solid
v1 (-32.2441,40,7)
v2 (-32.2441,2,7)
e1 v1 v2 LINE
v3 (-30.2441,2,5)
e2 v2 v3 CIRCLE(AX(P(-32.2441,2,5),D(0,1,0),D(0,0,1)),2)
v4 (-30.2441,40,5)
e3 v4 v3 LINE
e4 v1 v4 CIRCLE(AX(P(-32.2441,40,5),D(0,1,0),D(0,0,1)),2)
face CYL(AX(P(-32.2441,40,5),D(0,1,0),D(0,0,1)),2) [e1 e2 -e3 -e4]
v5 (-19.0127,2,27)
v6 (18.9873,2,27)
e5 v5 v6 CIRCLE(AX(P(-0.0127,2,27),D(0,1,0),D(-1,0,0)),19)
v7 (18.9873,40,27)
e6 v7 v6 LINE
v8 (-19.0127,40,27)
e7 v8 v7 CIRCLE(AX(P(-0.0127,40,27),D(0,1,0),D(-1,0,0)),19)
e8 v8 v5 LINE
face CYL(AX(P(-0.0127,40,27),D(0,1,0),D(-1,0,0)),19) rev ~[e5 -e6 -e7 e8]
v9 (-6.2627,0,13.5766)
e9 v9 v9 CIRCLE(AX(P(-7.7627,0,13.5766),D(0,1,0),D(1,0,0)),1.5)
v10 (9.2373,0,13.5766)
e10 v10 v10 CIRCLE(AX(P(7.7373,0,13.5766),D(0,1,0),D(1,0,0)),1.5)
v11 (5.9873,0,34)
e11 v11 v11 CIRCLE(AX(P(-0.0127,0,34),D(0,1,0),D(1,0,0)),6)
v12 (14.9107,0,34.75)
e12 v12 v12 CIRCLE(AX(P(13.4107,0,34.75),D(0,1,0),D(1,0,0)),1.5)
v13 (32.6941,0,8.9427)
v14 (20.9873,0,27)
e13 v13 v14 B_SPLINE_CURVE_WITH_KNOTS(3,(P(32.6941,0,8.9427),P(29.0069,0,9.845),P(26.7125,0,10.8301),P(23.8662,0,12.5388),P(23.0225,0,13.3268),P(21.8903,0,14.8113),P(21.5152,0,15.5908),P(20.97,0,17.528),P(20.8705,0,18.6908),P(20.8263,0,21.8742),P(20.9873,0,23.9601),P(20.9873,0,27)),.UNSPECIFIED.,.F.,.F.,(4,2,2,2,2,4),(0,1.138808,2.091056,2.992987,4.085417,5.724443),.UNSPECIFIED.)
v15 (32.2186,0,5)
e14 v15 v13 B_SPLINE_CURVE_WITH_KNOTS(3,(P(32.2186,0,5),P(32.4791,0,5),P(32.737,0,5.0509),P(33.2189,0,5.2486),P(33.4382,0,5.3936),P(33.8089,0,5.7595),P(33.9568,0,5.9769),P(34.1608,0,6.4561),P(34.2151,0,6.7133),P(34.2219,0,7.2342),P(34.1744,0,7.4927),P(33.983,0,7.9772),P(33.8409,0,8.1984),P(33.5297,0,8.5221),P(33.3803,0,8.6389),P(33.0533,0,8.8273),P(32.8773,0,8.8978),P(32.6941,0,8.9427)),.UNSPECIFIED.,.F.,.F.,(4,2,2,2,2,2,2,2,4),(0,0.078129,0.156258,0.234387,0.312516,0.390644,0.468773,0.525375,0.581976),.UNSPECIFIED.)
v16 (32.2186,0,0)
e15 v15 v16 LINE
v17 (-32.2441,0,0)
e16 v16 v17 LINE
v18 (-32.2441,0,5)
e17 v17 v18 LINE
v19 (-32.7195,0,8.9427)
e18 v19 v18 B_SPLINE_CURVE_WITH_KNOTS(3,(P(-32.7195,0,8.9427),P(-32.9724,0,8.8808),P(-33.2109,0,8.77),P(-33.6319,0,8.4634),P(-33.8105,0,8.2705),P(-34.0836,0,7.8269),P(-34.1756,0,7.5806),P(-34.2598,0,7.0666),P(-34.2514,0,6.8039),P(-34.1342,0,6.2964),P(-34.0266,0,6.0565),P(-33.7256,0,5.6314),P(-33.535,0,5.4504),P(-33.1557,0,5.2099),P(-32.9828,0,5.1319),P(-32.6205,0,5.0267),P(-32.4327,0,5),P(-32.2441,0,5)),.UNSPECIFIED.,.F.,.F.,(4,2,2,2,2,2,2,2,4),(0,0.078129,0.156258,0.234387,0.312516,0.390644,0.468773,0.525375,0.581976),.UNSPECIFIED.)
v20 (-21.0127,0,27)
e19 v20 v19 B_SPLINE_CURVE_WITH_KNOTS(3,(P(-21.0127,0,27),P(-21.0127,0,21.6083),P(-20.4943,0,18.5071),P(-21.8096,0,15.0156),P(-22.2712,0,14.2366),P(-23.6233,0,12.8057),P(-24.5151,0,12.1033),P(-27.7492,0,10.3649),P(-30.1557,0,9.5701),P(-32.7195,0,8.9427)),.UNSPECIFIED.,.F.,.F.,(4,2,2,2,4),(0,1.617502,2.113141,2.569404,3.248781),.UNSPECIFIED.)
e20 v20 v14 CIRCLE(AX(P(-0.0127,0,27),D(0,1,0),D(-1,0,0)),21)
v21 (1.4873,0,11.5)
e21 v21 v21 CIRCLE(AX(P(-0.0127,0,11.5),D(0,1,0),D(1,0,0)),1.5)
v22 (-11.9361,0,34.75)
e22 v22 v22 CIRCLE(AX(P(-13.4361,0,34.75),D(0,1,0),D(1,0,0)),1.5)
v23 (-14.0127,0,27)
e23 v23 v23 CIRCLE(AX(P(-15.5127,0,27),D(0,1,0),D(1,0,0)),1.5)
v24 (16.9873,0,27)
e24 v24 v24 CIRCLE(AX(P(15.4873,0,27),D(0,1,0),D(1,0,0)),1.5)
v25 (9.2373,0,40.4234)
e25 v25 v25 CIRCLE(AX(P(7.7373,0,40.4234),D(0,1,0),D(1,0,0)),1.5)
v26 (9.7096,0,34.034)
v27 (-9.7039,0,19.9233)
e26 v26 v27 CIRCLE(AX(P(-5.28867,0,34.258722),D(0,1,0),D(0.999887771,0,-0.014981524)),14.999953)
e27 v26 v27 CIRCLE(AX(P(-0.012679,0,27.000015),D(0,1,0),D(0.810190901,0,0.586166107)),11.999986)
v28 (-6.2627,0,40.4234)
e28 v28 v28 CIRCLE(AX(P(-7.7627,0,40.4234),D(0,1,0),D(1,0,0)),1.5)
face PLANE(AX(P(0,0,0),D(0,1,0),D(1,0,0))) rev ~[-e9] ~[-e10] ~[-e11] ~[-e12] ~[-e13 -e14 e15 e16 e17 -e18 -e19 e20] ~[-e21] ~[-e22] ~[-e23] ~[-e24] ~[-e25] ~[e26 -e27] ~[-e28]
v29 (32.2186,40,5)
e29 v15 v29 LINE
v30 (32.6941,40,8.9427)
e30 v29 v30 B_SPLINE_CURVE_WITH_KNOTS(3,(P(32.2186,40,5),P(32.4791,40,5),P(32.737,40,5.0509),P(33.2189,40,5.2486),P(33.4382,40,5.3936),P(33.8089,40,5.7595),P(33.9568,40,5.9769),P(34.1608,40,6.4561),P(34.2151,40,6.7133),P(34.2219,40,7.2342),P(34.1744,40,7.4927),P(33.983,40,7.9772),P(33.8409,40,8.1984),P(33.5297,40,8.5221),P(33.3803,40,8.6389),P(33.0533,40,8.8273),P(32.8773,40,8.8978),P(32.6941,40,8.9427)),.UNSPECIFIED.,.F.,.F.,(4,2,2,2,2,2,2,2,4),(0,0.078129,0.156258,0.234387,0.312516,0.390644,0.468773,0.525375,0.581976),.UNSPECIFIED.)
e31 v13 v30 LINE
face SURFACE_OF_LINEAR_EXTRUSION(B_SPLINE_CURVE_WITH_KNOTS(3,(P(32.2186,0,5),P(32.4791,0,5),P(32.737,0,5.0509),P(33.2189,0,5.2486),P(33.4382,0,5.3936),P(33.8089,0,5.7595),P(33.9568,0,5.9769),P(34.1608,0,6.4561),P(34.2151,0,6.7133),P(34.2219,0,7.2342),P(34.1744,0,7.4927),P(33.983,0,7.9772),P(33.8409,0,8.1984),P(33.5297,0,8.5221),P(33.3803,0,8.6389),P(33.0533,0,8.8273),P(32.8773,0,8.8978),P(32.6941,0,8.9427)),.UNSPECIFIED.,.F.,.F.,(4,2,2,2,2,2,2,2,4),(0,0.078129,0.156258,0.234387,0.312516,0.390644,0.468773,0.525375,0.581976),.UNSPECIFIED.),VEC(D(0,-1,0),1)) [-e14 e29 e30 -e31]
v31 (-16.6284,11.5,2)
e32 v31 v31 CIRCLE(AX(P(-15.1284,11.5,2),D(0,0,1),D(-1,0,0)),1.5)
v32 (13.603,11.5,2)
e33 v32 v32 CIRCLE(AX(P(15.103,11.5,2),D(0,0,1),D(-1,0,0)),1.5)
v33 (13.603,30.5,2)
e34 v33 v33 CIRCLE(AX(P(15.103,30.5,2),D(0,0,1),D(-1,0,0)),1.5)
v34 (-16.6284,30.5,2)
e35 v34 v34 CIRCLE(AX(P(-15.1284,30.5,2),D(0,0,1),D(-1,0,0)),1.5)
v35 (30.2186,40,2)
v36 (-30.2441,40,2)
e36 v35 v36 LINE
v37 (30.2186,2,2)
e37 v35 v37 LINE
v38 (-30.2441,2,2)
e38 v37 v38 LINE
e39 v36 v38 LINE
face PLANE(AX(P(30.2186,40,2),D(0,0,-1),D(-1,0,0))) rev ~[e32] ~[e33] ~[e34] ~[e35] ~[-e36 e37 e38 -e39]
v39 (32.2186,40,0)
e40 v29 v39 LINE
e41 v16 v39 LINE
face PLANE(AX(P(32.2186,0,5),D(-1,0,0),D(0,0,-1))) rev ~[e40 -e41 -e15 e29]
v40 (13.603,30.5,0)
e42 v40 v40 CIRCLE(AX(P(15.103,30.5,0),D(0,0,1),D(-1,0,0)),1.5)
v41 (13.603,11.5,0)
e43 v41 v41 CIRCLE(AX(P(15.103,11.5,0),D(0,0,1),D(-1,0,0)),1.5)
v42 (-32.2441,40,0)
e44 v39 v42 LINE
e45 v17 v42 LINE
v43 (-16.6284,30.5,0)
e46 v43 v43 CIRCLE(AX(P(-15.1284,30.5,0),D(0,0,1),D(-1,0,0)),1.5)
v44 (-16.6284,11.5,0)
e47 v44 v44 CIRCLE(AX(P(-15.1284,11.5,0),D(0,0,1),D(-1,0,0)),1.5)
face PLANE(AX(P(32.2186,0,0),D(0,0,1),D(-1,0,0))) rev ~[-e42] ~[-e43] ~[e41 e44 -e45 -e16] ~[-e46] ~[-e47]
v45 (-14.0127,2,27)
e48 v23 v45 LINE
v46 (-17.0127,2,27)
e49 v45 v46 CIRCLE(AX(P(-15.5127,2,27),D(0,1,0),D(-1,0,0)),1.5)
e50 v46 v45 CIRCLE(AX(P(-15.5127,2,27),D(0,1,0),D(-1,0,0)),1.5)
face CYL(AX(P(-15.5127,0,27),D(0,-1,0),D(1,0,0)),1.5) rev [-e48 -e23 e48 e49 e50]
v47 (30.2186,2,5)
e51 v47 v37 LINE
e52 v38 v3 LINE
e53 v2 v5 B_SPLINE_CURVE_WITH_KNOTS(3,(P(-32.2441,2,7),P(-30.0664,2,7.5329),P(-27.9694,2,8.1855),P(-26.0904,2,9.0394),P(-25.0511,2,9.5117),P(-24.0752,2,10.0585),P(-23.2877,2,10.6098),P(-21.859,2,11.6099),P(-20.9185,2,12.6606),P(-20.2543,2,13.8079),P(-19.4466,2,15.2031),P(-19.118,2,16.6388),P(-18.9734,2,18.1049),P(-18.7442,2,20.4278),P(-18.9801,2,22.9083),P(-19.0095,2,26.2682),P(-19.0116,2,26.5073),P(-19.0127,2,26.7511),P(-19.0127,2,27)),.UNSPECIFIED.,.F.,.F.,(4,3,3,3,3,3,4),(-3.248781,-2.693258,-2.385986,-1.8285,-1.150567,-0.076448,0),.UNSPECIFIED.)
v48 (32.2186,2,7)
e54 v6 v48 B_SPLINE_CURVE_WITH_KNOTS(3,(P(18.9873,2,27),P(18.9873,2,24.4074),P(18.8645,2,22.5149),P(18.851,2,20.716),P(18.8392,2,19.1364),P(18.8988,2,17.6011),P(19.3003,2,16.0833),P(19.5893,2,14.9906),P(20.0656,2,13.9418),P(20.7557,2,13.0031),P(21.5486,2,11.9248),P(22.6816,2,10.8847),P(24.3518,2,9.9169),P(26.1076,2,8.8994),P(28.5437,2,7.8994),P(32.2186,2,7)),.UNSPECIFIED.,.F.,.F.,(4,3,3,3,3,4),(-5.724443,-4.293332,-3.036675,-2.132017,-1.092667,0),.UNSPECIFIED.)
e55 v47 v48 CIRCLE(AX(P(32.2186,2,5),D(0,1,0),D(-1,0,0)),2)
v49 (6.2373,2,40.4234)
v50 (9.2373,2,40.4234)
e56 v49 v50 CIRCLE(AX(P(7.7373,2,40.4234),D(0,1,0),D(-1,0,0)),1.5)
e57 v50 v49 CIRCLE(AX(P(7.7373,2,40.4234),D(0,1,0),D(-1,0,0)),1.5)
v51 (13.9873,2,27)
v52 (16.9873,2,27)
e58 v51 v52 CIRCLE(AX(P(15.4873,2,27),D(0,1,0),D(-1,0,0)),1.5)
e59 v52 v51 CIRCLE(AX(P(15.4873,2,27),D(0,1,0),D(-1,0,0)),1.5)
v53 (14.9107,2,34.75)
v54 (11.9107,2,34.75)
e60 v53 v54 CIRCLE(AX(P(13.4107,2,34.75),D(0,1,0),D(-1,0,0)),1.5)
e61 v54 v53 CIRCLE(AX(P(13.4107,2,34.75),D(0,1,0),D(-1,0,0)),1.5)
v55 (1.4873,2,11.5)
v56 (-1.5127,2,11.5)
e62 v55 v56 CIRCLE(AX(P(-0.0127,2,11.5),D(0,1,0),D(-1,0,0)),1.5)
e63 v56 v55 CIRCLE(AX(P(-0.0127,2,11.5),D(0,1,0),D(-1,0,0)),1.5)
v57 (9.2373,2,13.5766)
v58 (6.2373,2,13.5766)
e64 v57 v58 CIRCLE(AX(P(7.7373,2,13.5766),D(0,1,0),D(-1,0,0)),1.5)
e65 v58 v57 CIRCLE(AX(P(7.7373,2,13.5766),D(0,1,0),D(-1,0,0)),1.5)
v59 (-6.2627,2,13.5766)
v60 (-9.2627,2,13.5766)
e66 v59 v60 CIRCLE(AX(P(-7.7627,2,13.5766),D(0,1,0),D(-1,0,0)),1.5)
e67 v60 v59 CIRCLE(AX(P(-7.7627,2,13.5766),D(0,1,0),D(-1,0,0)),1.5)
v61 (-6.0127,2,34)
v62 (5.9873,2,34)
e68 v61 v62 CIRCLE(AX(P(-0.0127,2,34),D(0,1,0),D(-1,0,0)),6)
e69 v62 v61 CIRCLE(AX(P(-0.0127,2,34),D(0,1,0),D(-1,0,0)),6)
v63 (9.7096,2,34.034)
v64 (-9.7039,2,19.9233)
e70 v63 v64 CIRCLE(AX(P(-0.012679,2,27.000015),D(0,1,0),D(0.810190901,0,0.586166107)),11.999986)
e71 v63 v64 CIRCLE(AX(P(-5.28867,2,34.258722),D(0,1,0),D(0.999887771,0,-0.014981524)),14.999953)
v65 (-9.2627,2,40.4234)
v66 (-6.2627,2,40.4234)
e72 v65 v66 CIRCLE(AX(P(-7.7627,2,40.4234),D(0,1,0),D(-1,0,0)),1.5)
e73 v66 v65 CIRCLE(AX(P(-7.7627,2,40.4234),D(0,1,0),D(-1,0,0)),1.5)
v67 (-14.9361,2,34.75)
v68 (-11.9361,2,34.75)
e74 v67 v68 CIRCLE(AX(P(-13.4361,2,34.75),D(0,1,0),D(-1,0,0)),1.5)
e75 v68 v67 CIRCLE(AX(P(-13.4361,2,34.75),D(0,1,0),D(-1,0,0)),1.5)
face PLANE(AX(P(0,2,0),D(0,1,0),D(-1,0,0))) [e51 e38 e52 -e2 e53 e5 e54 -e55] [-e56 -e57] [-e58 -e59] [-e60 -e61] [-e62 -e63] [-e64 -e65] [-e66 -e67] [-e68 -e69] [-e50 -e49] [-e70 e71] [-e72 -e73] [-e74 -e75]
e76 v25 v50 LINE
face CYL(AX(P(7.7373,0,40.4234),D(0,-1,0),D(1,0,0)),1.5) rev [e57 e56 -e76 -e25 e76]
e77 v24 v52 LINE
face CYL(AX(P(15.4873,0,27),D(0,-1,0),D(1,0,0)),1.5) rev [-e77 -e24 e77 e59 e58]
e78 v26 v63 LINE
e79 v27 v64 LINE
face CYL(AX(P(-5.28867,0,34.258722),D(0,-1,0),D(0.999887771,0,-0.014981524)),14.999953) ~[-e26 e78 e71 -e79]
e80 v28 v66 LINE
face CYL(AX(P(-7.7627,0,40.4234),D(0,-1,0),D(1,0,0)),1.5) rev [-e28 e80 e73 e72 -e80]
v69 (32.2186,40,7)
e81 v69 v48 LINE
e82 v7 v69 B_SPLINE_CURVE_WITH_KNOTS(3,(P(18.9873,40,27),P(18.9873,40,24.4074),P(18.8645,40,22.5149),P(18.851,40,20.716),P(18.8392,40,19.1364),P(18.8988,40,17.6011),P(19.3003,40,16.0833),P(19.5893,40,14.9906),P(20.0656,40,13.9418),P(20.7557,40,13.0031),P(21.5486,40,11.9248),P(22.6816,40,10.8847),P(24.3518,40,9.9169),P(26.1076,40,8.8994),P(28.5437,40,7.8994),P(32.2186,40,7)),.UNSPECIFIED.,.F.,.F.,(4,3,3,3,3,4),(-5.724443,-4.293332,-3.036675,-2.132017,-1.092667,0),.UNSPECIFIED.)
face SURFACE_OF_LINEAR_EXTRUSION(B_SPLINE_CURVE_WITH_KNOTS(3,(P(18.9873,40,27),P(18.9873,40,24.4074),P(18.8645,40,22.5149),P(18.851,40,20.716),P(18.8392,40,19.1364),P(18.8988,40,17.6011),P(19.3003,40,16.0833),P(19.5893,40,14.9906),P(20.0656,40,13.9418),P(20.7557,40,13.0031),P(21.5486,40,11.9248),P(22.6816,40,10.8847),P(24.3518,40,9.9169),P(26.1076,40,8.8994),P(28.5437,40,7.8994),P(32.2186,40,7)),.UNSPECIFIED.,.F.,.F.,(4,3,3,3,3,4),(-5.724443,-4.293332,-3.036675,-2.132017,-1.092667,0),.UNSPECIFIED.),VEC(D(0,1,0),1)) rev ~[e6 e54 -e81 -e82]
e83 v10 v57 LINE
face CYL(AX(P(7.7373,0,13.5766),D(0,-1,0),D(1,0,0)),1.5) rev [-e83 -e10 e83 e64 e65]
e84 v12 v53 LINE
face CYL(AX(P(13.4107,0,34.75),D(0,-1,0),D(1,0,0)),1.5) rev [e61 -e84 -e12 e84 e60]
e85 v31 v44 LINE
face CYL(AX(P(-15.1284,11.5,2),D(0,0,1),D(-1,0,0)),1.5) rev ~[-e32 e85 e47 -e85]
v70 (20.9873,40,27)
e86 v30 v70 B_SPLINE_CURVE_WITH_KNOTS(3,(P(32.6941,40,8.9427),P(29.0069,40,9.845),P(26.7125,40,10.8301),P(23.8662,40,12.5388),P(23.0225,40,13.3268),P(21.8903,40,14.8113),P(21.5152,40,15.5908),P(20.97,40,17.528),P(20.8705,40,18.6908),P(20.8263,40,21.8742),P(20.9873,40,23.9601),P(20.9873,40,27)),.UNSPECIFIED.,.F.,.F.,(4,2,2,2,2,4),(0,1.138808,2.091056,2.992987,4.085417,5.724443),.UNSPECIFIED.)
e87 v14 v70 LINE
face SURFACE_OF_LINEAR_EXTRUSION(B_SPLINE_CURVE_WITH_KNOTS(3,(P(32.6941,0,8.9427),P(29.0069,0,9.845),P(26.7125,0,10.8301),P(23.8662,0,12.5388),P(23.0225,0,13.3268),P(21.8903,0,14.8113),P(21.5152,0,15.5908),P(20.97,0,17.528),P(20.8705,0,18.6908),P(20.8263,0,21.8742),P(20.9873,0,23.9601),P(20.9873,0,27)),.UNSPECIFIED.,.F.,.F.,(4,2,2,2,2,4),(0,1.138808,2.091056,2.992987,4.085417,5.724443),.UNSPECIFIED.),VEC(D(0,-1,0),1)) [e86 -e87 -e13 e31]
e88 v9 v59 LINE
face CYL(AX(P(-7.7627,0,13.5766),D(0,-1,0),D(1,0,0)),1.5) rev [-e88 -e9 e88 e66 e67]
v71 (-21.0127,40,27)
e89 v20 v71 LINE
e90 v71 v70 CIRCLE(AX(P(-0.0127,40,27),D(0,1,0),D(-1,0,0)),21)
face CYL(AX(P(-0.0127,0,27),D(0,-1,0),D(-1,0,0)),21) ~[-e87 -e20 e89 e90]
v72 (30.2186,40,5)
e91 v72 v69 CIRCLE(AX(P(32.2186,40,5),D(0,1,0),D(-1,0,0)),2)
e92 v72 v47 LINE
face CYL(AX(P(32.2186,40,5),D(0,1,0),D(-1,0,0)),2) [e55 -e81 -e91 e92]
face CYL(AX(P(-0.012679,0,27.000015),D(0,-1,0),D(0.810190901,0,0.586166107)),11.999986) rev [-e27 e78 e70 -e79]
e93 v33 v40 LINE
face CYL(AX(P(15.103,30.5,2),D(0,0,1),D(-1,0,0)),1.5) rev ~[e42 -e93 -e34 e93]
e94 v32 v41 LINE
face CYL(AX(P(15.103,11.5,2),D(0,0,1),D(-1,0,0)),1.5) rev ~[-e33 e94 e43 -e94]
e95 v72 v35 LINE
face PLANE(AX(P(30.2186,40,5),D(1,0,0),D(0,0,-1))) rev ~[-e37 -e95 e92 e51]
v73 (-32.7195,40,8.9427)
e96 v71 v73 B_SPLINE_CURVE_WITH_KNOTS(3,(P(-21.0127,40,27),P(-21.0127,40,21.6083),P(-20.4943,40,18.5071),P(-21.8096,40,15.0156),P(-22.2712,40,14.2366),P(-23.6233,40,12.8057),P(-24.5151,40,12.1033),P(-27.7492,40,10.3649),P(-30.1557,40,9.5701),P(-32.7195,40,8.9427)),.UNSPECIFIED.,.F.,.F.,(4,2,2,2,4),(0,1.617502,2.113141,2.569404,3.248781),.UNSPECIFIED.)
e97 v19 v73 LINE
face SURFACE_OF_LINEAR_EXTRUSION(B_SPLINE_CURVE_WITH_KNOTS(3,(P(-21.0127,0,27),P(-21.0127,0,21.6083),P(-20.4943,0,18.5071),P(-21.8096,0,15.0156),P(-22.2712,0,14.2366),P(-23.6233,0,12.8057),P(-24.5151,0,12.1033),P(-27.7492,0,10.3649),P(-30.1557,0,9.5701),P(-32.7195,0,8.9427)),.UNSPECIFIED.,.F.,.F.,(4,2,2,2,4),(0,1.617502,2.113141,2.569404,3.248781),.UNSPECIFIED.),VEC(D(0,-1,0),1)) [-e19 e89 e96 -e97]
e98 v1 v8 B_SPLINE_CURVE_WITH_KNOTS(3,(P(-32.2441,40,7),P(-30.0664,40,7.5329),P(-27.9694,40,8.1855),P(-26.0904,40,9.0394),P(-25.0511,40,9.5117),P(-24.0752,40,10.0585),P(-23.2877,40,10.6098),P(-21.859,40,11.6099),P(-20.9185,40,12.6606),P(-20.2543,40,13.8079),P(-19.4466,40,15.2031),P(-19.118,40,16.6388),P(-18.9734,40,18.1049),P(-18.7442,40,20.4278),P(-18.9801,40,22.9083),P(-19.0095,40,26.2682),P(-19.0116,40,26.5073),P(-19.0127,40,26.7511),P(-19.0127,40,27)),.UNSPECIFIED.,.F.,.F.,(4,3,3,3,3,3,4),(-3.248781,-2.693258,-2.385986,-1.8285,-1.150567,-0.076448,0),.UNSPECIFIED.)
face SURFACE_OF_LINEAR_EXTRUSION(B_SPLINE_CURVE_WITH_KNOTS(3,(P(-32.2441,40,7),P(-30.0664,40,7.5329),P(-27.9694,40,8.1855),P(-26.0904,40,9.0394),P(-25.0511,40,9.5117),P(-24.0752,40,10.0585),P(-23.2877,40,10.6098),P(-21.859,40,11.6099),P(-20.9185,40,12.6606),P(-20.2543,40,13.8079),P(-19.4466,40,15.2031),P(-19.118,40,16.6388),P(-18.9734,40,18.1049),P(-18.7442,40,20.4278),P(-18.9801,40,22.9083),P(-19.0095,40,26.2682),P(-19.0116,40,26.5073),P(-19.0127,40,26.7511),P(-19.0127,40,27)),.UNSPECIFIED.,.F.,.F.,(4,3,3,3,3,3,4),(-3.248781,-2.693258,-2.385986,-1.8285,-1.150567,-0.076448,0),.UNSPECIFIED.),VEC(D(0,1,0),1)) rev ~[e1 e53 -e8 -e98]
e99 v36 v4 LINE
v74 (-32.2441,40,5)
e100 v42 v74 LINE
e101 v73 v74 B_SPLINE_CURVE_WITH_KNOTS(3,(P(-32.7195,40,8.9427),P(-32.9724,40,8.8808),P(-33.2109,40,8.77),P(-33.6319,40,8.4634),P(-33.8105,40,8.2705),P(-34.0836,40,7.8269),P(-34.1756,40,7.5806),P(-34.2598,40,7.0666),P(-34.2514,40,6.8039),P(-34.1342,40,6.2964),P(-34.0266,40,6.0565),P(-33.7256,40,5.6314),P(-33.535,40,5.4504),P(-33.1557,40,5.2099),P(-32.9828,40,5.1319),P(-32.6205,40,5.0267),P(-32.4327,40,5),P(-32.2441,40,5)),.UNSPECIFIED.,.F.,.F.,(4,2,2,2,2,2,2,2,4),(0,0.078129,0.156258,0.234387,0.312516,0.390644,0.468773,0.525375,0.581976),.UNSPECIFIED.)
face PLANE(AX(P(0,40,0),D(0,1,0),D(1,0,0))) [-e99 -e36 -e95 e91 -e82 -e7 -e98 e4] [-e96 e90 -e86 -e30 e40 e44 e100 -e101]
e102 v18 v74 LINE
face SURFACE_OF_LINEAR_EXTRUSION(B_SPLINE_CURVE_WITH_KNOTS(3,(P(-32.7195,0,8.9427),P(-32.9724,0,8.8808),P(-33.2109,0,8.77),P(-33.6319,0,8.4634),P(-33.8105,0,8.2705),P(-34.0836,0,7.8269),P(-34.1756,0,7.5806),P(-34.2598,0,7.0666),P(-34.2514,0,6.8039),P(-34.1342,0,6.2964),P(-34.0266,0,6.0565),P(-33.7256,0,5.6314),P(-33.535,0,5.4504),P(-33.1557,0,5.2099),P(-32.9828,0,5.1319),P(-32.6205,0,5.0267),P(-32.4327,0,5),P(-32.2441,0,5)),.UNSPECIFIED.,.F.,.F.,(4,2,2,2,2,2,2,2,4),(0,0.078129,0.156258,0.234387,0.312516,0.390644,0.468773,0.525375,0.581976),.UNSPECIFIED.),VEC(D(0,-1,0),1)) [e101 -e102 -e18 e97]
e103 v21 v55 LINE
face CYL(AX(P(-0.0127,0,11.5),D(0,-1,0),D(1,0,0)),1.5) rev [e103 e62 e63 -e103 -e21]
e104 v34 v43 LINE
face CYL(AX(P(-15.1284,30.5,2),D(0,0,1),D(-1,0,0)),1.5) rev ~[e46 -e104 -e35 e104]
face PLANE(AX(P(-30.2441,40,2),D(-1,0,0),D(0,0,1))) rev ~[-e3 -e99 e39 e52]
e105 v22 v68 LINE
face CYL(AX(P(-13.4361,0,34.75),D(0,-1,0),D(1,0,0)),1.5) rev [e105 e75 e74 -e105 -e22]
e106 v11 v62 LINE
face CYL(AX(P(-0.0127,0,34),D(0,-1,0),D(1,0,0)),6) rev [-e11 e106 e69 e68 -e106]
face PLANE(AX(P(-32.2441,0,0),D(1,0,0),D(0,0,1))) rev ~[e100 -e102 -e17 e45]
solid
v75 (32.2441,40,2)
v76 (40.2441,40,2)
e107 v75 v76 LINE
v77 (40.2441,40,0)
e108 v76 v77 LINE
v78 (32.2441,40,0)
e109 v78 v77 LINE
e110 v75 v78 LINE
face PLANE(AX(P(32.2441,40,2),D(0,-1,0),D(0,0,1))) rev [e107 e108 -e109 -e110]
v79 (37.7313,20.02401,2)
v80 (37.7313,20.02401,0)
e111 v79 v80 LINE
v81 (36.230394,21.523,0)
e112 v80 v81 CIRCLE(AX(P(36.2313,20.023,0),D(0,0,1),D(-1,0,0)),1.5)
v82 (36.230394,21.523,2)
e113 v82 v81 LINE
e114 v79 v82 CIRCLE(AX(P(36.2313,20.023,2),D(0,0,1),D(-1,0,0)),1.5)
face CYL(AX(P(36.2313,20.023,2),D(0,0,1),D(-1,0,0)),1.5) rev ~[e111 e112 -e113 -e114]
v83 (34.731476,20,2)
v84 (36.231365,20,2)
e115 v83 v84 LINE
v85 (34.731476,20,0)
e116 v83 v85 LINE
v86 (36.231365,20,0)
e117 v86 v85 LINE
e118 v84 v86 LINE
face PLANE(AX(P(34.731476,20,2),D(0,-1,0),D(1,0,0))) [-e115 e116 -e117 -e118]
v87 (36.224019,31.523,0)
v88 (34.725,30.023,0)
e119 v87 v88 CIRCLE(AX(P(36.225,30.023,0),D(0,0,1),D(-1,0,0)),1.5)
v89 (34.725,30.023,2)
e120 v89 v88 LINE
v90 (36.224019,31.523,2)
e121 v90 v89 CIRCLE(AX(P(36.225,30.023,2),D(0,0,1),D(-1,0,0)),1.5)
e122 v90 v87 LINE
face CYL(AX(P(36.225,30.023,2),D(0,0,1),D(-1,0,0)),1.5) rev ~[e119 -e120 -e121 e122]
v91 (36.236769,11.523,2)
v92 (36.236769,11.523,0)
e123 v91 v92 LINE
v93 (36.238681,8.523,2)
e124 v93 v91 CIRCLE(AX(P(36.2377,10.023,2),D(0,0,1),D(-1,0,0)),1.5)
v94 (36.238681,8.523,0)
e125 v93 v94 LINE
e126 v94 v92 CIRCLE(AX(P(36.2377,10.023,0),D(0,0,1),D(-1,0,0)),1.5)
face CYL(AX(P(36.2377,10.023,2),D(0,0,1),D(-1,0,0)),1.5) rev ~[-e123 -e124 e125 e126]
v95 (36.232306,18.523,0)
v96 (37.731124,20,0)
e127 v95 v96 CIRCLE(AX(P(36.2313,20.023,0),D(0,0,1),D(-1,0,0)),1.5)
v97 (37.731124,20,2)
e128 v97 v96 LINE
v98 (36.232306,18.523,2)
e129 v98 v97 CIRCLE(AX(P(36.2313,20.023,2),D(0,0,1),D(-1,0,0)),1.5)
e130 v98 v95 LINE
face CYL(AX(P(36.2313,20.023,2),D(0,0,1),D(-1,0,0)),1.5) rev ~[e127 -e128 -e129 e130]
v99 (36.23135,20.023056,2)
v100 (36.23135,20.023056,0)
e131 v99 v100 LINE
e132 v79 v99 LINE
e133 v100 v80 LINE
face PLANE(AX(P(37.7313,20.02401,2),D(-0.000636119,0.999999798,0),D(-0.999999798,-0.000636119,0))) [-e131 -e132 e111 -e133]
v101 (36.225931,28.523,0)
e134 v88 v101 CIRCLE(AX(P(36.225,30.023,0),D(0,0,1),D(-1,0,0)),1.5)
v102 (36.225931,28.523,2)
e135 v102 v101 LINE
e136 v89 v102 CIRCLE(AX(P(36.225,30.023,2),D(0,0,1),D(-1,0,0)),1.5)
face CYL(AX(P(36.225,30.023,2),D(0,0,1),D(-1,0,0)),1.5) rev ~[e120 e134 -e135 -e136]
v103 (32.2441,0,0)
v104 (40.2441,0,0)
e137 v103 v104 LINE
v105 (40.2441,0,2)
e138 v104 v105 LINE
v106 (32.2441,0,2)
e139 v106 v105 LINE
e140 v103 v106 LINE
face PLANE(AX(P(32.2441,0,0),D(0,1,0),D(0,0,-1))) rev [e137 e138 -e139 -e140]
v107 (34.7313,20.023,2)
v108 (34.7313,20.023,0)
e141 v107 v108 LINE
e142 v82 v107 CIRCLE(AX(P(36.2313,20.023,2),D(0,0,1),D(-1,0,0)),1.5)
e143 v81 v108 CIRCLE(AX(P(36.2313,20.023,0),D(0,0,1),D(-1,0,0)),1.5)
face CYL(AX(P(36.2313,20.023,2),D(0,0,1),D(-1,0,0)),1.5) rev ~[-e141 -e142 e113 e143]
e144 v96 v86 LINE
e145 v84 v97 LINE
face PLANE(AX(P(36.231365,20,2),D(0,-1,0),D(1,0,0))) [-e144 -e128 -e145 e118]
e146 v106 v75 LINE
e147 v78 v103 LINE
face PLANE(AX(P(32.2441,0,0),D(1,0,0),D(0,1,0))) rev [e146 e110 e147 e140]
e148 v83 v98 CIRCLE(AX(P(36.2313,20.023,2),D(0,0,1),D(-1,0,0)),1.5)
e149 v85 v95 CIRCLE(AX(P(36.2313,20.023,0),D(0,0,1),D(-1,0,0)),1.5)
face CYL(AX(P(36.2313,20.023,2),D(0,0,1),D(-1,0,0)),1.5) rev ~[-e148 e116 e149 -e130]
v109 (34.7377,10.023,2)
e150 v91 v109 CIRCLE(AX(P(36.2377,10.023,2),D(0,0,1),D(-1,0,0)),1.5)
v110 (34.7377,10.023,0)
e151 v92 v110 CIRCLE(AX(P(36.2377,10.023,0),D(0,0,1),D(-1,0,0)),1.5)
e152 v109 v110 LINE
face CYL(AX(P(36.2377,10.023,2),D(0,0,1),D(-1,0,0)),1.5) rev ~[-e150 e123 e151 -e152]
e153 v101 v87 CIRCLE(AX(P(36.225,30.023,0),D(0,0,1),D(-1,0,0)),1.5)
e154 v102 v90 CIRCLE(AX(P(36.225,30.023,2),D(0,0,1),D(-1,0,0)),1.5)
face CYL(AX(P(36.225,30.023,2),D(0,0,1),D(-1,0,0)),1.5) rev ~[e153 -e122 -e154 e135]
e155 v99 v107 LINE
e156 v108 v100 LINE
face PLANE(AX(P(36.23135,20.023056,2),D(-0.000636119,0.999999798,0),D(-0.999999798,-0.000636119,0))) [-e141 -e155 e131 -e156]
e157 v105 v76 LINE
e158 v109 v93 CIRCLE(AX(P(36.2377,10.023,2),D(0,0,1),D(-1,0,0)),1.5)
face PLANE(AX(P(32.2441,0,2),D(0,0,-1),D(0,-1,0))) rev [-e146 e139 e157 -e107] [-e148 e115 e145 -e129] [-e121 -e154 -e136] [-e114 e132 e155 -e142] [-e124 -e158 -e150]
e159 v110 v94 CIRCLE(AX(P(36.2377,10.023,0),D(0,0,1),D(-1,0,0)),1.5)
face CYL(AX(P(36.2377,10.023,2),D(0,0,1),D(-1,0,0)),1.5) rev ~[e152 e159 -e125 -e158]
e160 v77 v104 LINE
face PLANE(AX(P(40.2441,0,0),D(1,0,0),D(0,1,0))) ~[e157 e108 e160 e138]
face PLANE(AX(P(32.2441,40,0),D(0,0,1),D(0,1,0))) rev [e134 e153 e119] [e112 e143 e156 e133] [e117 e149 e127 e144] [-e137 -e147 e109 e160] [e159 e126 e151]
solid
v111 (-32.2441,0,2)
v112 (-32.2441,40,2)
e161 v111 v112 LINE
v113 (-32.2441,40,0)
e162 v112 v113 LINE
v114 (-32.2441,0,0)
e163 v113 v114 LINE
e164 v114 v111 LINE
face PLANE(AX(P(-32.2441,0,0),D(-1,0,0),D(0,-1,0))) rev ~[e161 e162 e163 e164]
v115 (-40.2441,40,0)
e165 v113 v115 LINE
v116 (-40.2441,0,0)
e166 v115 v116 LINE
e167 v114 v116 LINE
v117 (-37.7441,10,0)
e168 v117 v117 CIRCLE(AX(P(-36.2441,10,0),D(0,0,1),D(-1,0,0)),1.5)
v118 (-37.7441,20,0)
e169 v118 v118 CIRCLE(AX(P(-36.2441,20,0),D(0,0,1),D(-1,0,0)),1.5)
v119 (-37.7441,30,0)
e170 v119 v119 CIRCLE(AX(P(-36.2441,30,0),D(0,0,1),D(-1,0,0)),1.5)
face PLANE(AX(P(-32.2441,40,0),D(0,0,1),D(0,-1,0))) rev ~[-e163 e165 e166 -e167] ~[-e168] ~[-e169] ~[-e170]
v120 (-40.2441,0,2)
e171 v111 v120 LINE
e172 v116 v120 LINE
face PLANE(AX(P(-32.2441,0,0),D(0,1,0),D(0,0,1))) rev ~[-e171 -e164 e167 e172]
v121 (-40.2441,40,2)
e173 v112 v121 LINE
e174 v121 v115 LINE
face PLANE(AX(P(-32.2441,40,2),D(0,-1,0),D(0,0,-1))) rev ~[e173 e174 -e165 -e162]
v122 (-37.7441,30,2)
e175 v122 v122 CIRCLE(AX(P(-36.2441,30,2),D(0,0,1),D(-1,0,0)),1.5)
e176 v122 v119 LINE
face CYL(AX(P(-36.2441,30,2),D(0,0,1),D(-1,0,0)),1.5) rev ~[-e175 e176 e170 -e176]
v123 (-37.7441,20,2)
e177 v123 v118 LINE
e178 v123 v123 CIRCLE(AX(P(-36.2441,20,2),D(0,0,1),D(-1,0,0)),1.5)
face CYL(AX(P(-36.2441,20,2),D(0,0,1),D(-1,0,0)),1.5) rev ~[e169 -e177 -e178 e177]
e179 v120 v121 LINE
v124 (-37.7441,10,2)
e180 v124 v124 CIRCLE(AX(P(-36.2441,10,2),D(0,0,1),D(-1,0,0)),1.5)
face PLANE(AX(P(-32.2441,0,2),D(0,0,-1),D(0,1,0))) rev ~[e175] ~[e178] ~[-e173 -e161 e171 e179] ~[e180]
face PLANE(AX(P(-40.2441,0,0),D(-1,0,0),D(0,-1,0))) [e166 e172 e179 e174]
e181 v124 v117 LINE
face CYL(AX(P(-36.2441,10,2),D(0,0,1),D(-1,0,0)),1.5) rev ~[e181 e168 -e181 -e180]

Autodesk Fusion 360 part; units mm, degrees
sketch "Sketch1" plane through (0, 0, 0) normal (0, 1, 0) x (1, 0, 0)
  spline S0 degree 3 poles (32.2186, -5) (32.4791, -5) (32.737, -5.0509) (33.2189, -5.2486) (33.4382, -5.3936) (33.8089, -5.7595) (33.9568, -5.9769) (34.1608, -6.4561) (34.2151, -6.7133) (34.2219, -7.2342) (34.1744, -7.4927) (33.983, -7.9772) (33.8409, -8.1984) (33.5297, -8.5221) (33.3803, -8.6389) (33.0533, -8.8273) (32.8773, -8.8978) (32.6941, -8.9427) knots 0 0 0 0 0.078129 0.078129 0.156258 0.156258 0.234387 0.234387 0.312516 0.312516 0.390644 0.390644 0.468773 0.468773 0.525375 0.525375 0.581976 0.581976 0.581976 0.581976
  spline S1 degree 3 poles (32.6941, -8.9427) (29.0069, -9.845) (26.7125, -10.8301) (23.8662, -12.5388) (23.0225, -13.3268) (21.8903, -14.8113) (21.5152, -15.5908) (20.97, -17.528) (20.8705, -18.6908) (20.8263, -21.8742) (20.9873, -23.9601) (20.9873, -27) knots 0 0 0 0 1.138808 1.138808 2.091056 2.091056 2.992987 2.992987 4.085417 4.085417 5.724443 5.724443 5.724443 5.724443
  circle A0 centre (-0.0127, -34) radius 6
  spline S2 degree 3 poles (-32.7195, -8.9427) (-32.9724, -8.8808) (-33.2109, -8.77) (-33.6319, -8.4634) (-33.8105, -8.2705) (-34.0836, -7.8269) (-34.1756, -7.5806) (-34.2598, -7.0666) (-34.2514, -6.8039) (-34.1342, -6.2964) (-34.0266, -6.0565) (-33.7256, -5.6314) (-33.535, -5.4504) (-33.1557, -5.2099) (-32.9828, -5.1319) (-32.6205, -5.0267) (-32.4327, -5) (-32.2441, -5) knots 0 0 0 0 0.078129 0.078129 0.156258 0.156258 0.234387 0.234387 0.312516 0.312516 0.390644 0.390644 0.468773 0.468773 0.525375 0.525375 0.581976 0.581976 0.581976 0.581976
  circle A1 centre (7.7373, -13.5766) radius 1.5
  line L0 (32.2186, -5) -> (32.2186, 0)
  circle A2 centre (7.7373, -40.4234) radius 1.5
  arc A3 (9.7096, -34.034) -> (-9.7039, -19.9233) centre (-0.0127, -27) ccw
  arc A4 (-21.0127, -27) -> (20.9873, -27) centre (-0.0127, -27) ccw
  circle A5 centre (-0.0127, -11.5) radius 1.5
  spline S3 degree 3 poles (-21.0127, -27) (-21.0127, -21.6083) (-20.4943, -18.5071) (-21.8096, -15.0156) (-22.2712, -14.2366) (-23.6233, -12.8057) (-24.5151, -12.1033) (-27.7492, -10.3649) (-30.1557, -9.5701) (-32.7195, -8.9427) knots 0 0 0 0 1.617502 1.617502 2.113141 2.113141 2.569404 2.569404 3.248781 3.248781 3.248781 3.248781
  line L1 (-32.2441, 0) -> (-32.2441, -5)
  circle A6 centre (-13.4361, -34.75) radius 1.5
  circle A7 centre (-7.7627, -40.4234) radius 1.5
  circle A8 centre (13.4107, -34.75) radius 1.5
  circle A9 centre (-15.5127, -27) radius 1.5
  circle A10 centre (15.4873, -27) radius 1.5
  circle A11 centre (-7.7627, -13.5766) radius 1.5
  arc A12 (9.7096, -34.034) -> (-9.7039, -19.9233) centre (-5.2887, -34.2587) ccw
  line L2 (32.2186, 0) -> (-32.2441, 0)
  point P0 (-67.8, -16)
extrude "Extrude1" add sketch "Sketch1" along normal blind 40 makes body 1
sketch "Sketch2" plane through (0, 40, 0) normal (0, 1, 0) x (-1, 0, 0)
  circle A0 centre (13.4361, 34.75) radius 1.5
  circle A1 centre (0.0127, 11.5) radius 1.5
  circle A2 centre (-15.4873, 27) radius 1.5
  circle A3 centre (-7.7373, 40.4234) radius 1.5
  circle A4 centre (7.7627, 40.4234) radius 1.5
  circle A5 centre (-13.4107, 34.75) radius 1.5
  circle A6 centre (7.7627, 13.5766) radius 1.5
  arc A7 (-9.7096, 34.034) -> (9.7039, 19.9233) centre (0.0127, 27) ccw
  arc A8 (-9.7096, 34.034) -> (9.7039, 19.9233) centre (5.2887, 34.2587) ccw
  circle A9 centre (15.5127, 27) radius 1.5
  line L0 (-32.2186, 5) -> (-32.2186, 0)
  line L1 (-32.2186, 0) -> (32.2441, 0)
  line L2 (32.2441, 0) -> (32.2441, 5)
  spline S0 degree 3 poles (32.2441, 5) (32.4327, 5) (32.6205, 5.0267) (32.9828, 5.1319) (33.1557, 5.2099) (33.535, 5.4504) (33.7256, 5.6314) (34.0266, 6.0565) (34.1342, 6.2964) (34.2514, 6.8039) (34.2598, 7.0666) (34.1756, 7.5806) (34.0836, 7.8269) (33.8105, 8.2705) (33.6319, 8.4634) (33.2109, 8.77) (32.9724, 8.8808) (32.7195, 8.9427) knots -0.581976 -0.581976 -0.581976 -0.581976 -0.525375 -0.525375 -0.468773 -0.468773 -0.390644 -0.390644 -0.312516 -0.312516 -0.234387 -0.234387 -0.156258 -0.156258 -0.078129 -0.078129 0 0 0 0
  spline S1 degree 3 poles (32.7195, 8.9427) (30.1557, 9.5701) (27.7492, 10.3649) (24.5151, 12.1033) (23.6233, 12.8057) (22.2712, 14.2366) (21.8096, 15.0156) (20.4943, 18.5071) (21.0127, 21.6083) (21.0127, 27) knots -3.248781 -3.248781 -3.248781 -3.248781 -2.569404 -2.569404 -2.113141 -2.113141 -1.617502 -1.617502 0 0 0 0
  arc A10 (21.0127, 27) -> (-20.9873, 27) centre (0.0127, 27) ccw
  spline S2 degree 3 poles (-20.9873, 27) (-20.9873, 23.9601) (-20.8263, 21.8742) (-20.8705, 18.6908) (-20.97, 17.528) (-21.5152, 15.5908) (-21.8903, 14.8113) (-23.0225, 13.3268) (-23.8662, 12.5388) (-26.7125, 10.8301) (-29.0069, 9.845) (-32.6941, 8.9427) knots -5.724443 -5.724443 -5.724443 -5.724443 -4.085417 -4.085417 -2.992987 -2.992987 -2.091056 -2.091056 -1.138808 -1.138808 0 0 0 0
  spline S3 degree 3 poles (-32.6941, 8.9427) (-32.8773, 8.8978) (-33.0533, 8.8273) (-33.3803, 8.6389) (-33.5297, 8.5221) (-33.8409, 8.1984) (-33.983, 7.9772) (-34.1744, 7.4927) (-34.2219, 7.2342) (-34.2151, 6.7133) (-34.1608, 6.4561) (-33.9568, 5.9769) (-33.8089, 5.7595) (-33.4382, 5.3936) (-33.2189, 5.2486) (-32.737, 5.0509) (-32.4791, 5) (-32.2186, 5) knots -0.581976 -0.581976 -0.581976 -0.581976 -0.525375 -0.525375 -0.468773 -0.468773 -0.390644 -0.390644 -0.312516 -0.312516 -0.234387 -0.234387 -0.156258 -0.156258 -0.078129 -0.078129 0 0 0 0
  circle A11 centre (-7.7373, 13.5766) radius 1.5
  circle A12 centre (0.0127, 34) radius 6
  arc A13 (-30.2186, 5) -> (-32.2186, 7) centre (-32.2186, 5) ccw
  line L3 (-30.2186, 5) -> (-30.2186, 2)
  line L4 (-30.2186, 2) -> (30.2441, 2)
  line L5 (30.2441, 2) -> (30.2441, 5)
  arc A14 (32.2441, 7) -> (30.2441, 5) centre (32.2441, 5) ccw
  spline S4 degree 3 poles (32.2441, 7) (30.0664, 7.5329) (27.9694, 8.1855) (26.0904, 9.0394) (25.0511, 9.5117) (24.0752, 10.0585) (23.2877, 10.6098) (21.859, 11.6099) (20.9185, 12.6606) (20.2543, 13.8079) (19.4466, 15.2031) (19.118, 16.6388) (18.9734, 18.1049) (18.7442, 20.4278) (18.9801, 22.9083) (19.0095, 26.2682) (19.0116, 26.5073) (19.0127, 26.7511) (19.0127, 27) knots -3.248781 -3.248781 -3.248781 -3.248781 -2.693258 -2.693258 -2.693258 -2.385986 -2.385986 -2.385986 -1.8285 -1.8285 -1.8285 -1.150567 -1.150567 -1.150567 -0.076448 -0.076448 -0.076448 0 0 0 0
  arc A15 (19.0127, 27) -> (-18.9873, 27) centre (0.0127, 27) ccw
  spline S5 degree 3 poles (-18.9873, 27) (-18.9873, 24.4074) (-18.8645, 22.5149) (-18.851, 20.716) (-18.8392, 19.1364) (-18.8988, 17.6011) (-19.3003, 16.0833) (-19.5893, 14.9906) (-20.0656, 13.9418) (-20.7557, 13.0031) (-21.5486, 11.9248) (-22.6816, 10.8847) (-24.3518, 9.9169) (-26.1076, 8.8994) (-28.5437, 7.8994) (-32.2186, 7) knots -5.724443 -5.724443 -5.724443 -5.724443 -4.293332 -4.293332 -4.293332 -3.036675 -3.036675 -3.036675 -2.132017 -2.132017 -2.132017 -1.092667 -1.092667 -1.092667 0 0 0 0
  dimension "d3" = -2
extrude "Extrude2" cut sketch "Sketch2" against normal up to surface (38 mm away) contours A13 L3 L4 L5 A14 S4 A15 S5 bodies 1
sketch "Sketch3" plane through (-32.2441, 0, 0) normal (-1, 0, 0) x (0, -1, 0)
  line L0 (0, 0) -> (0, 5)
  line L1 (0, 5) -> (-40, 5)
  line L2 (-40, 5) -> (-40, 0)
  line L3 (-40, 0) -> (0, 0)
  line L4 (-40, 0) -> (0, 0)
  line L5 (0, 0) -> (0, 2)
  line L6 (0, 2) -> (-40, 2)
  line L7 (-40, 2) -> (-40, 0)
  dimension "d6" = 2
extrude "Extrude3" add sketch "Sketch3" along normal blind 8 separate body contours L0 L2 L3 L4 L5 L6 L7 makes body 2
mirror "Mirror1" about plane through (0, 0, 0) normal (1, 0, 0) of "Extrude3" makes body 3
sketch "Sketch4" plane through (0, 0, 2) normal (0, 0, 1) x (-1, 0, 0)
  line L0 (32.2441, -40) -> (40.2441, -40)
  line L1 (40.2441, -40) -> (40.2441, 0)
  line L2 (40.2441, 0) -> (32.2441, 0)
  line L3 (-40.2441, -40) -> (-40.2441, 0)
  line L4 (40.2441, -20) -> (-40.2441, -20)
  line L5 (36.2441, 0) -> (36.2441, -40)
  circle A0 centre (36.2441, -20) radius 1.5
  circle A1 centre (36.2441, -10) radius 1.5
  circle A2 centre (36.2441, -30) radius 1.5
  line L6 (-20.9873, -40) -> (21.0127, -40)
  line L7 (0, 0) -> (0.0127, -40)
  line L8 (-40.2313, -20.0256) -> (40.2568, -19.9744)
  line L9 (-32.2186, -40.0205) -> (-40.2186, -40.0256)
  circle A3 centre (-36.2377, -10.023) radius 1.5
  line L10 (-32.2441, -0.0205) -> (-32.2186, -40.0205)
  line L11 (-40.2441, -0.0256) -> (-32.2441, -0.0205)
  circle A4 centre (-36.2313, -20.023) radius 1.5
  line L12 (-40.2186, -40.0256) -> (-40.2441, -0.0256)
  line L13 (-36.2441, -0.023) -> (-36.2186, -40.023)
  circle A5 centre (-36.225, -30.023) radius 1.5
  line L14 (32.2441, 0) -> (32.2441, -40)
  point P0 (36.2441, -20)
  point P1 (-36.2313, -20.023)
  dimension "d11" = 3
  dimension "d14" = 10
  dimension "d15" = 0
extrude "Extrude4" cut sketch "Sketch4" against normal through all contours L5 A2 | L5 A2 | L4 L5 A0 L8 | L4 L5 A0 | L4 L5 A0 L8 | L4 L5 A0 | L5 A0 L8 | L5 A0 L8 | L4 A4 L13 | L8 A4 L13 | L5 A1 | L5 A1 | L4 A4 L13 | L8 A4 L13 | A3 L13 | A3 L13 | L13 A5 | L13 A5 bodies 2 1 3
sketch "Sketch5" plane through (0, 0, 2) normal (0, 0, 1) x (-1, 0, 0)
  line L0 (30.2441, -2) -> (-30.2186, -2)
  line L1 (-30.2186, -2) -> (-30.2186, -40)
  line L2 (-30.2186, -40) -> (30.2441, -40)
  line L3 (30.2441, -40) -> (30.2441, -2)
  line L4 (0.0127, -2) -> (0.0127, -40) construction
  line L5 (0.0127, -21) -> (-30.2186, -21) construction
  line L6 (-15.103, -21) -> (-15.103, -2) construction
  circle A0 centre (-15.103, -11.5) radius 1.5
  circle A1 centre (-15.103, -30.5) radius 1.5
  circle A2 centre (15.1284, -11.5) radius 1.5
  circle A3 centre (15.1284, -30.5) radius 1.5
  point P0 (-15.103, -11.5)
  dimension "d17" = 3
extrude "Extrude5" cut sketch "Sketch5" against normal through all contours A0 | A1 | A2 | A3 bodies 2 1
